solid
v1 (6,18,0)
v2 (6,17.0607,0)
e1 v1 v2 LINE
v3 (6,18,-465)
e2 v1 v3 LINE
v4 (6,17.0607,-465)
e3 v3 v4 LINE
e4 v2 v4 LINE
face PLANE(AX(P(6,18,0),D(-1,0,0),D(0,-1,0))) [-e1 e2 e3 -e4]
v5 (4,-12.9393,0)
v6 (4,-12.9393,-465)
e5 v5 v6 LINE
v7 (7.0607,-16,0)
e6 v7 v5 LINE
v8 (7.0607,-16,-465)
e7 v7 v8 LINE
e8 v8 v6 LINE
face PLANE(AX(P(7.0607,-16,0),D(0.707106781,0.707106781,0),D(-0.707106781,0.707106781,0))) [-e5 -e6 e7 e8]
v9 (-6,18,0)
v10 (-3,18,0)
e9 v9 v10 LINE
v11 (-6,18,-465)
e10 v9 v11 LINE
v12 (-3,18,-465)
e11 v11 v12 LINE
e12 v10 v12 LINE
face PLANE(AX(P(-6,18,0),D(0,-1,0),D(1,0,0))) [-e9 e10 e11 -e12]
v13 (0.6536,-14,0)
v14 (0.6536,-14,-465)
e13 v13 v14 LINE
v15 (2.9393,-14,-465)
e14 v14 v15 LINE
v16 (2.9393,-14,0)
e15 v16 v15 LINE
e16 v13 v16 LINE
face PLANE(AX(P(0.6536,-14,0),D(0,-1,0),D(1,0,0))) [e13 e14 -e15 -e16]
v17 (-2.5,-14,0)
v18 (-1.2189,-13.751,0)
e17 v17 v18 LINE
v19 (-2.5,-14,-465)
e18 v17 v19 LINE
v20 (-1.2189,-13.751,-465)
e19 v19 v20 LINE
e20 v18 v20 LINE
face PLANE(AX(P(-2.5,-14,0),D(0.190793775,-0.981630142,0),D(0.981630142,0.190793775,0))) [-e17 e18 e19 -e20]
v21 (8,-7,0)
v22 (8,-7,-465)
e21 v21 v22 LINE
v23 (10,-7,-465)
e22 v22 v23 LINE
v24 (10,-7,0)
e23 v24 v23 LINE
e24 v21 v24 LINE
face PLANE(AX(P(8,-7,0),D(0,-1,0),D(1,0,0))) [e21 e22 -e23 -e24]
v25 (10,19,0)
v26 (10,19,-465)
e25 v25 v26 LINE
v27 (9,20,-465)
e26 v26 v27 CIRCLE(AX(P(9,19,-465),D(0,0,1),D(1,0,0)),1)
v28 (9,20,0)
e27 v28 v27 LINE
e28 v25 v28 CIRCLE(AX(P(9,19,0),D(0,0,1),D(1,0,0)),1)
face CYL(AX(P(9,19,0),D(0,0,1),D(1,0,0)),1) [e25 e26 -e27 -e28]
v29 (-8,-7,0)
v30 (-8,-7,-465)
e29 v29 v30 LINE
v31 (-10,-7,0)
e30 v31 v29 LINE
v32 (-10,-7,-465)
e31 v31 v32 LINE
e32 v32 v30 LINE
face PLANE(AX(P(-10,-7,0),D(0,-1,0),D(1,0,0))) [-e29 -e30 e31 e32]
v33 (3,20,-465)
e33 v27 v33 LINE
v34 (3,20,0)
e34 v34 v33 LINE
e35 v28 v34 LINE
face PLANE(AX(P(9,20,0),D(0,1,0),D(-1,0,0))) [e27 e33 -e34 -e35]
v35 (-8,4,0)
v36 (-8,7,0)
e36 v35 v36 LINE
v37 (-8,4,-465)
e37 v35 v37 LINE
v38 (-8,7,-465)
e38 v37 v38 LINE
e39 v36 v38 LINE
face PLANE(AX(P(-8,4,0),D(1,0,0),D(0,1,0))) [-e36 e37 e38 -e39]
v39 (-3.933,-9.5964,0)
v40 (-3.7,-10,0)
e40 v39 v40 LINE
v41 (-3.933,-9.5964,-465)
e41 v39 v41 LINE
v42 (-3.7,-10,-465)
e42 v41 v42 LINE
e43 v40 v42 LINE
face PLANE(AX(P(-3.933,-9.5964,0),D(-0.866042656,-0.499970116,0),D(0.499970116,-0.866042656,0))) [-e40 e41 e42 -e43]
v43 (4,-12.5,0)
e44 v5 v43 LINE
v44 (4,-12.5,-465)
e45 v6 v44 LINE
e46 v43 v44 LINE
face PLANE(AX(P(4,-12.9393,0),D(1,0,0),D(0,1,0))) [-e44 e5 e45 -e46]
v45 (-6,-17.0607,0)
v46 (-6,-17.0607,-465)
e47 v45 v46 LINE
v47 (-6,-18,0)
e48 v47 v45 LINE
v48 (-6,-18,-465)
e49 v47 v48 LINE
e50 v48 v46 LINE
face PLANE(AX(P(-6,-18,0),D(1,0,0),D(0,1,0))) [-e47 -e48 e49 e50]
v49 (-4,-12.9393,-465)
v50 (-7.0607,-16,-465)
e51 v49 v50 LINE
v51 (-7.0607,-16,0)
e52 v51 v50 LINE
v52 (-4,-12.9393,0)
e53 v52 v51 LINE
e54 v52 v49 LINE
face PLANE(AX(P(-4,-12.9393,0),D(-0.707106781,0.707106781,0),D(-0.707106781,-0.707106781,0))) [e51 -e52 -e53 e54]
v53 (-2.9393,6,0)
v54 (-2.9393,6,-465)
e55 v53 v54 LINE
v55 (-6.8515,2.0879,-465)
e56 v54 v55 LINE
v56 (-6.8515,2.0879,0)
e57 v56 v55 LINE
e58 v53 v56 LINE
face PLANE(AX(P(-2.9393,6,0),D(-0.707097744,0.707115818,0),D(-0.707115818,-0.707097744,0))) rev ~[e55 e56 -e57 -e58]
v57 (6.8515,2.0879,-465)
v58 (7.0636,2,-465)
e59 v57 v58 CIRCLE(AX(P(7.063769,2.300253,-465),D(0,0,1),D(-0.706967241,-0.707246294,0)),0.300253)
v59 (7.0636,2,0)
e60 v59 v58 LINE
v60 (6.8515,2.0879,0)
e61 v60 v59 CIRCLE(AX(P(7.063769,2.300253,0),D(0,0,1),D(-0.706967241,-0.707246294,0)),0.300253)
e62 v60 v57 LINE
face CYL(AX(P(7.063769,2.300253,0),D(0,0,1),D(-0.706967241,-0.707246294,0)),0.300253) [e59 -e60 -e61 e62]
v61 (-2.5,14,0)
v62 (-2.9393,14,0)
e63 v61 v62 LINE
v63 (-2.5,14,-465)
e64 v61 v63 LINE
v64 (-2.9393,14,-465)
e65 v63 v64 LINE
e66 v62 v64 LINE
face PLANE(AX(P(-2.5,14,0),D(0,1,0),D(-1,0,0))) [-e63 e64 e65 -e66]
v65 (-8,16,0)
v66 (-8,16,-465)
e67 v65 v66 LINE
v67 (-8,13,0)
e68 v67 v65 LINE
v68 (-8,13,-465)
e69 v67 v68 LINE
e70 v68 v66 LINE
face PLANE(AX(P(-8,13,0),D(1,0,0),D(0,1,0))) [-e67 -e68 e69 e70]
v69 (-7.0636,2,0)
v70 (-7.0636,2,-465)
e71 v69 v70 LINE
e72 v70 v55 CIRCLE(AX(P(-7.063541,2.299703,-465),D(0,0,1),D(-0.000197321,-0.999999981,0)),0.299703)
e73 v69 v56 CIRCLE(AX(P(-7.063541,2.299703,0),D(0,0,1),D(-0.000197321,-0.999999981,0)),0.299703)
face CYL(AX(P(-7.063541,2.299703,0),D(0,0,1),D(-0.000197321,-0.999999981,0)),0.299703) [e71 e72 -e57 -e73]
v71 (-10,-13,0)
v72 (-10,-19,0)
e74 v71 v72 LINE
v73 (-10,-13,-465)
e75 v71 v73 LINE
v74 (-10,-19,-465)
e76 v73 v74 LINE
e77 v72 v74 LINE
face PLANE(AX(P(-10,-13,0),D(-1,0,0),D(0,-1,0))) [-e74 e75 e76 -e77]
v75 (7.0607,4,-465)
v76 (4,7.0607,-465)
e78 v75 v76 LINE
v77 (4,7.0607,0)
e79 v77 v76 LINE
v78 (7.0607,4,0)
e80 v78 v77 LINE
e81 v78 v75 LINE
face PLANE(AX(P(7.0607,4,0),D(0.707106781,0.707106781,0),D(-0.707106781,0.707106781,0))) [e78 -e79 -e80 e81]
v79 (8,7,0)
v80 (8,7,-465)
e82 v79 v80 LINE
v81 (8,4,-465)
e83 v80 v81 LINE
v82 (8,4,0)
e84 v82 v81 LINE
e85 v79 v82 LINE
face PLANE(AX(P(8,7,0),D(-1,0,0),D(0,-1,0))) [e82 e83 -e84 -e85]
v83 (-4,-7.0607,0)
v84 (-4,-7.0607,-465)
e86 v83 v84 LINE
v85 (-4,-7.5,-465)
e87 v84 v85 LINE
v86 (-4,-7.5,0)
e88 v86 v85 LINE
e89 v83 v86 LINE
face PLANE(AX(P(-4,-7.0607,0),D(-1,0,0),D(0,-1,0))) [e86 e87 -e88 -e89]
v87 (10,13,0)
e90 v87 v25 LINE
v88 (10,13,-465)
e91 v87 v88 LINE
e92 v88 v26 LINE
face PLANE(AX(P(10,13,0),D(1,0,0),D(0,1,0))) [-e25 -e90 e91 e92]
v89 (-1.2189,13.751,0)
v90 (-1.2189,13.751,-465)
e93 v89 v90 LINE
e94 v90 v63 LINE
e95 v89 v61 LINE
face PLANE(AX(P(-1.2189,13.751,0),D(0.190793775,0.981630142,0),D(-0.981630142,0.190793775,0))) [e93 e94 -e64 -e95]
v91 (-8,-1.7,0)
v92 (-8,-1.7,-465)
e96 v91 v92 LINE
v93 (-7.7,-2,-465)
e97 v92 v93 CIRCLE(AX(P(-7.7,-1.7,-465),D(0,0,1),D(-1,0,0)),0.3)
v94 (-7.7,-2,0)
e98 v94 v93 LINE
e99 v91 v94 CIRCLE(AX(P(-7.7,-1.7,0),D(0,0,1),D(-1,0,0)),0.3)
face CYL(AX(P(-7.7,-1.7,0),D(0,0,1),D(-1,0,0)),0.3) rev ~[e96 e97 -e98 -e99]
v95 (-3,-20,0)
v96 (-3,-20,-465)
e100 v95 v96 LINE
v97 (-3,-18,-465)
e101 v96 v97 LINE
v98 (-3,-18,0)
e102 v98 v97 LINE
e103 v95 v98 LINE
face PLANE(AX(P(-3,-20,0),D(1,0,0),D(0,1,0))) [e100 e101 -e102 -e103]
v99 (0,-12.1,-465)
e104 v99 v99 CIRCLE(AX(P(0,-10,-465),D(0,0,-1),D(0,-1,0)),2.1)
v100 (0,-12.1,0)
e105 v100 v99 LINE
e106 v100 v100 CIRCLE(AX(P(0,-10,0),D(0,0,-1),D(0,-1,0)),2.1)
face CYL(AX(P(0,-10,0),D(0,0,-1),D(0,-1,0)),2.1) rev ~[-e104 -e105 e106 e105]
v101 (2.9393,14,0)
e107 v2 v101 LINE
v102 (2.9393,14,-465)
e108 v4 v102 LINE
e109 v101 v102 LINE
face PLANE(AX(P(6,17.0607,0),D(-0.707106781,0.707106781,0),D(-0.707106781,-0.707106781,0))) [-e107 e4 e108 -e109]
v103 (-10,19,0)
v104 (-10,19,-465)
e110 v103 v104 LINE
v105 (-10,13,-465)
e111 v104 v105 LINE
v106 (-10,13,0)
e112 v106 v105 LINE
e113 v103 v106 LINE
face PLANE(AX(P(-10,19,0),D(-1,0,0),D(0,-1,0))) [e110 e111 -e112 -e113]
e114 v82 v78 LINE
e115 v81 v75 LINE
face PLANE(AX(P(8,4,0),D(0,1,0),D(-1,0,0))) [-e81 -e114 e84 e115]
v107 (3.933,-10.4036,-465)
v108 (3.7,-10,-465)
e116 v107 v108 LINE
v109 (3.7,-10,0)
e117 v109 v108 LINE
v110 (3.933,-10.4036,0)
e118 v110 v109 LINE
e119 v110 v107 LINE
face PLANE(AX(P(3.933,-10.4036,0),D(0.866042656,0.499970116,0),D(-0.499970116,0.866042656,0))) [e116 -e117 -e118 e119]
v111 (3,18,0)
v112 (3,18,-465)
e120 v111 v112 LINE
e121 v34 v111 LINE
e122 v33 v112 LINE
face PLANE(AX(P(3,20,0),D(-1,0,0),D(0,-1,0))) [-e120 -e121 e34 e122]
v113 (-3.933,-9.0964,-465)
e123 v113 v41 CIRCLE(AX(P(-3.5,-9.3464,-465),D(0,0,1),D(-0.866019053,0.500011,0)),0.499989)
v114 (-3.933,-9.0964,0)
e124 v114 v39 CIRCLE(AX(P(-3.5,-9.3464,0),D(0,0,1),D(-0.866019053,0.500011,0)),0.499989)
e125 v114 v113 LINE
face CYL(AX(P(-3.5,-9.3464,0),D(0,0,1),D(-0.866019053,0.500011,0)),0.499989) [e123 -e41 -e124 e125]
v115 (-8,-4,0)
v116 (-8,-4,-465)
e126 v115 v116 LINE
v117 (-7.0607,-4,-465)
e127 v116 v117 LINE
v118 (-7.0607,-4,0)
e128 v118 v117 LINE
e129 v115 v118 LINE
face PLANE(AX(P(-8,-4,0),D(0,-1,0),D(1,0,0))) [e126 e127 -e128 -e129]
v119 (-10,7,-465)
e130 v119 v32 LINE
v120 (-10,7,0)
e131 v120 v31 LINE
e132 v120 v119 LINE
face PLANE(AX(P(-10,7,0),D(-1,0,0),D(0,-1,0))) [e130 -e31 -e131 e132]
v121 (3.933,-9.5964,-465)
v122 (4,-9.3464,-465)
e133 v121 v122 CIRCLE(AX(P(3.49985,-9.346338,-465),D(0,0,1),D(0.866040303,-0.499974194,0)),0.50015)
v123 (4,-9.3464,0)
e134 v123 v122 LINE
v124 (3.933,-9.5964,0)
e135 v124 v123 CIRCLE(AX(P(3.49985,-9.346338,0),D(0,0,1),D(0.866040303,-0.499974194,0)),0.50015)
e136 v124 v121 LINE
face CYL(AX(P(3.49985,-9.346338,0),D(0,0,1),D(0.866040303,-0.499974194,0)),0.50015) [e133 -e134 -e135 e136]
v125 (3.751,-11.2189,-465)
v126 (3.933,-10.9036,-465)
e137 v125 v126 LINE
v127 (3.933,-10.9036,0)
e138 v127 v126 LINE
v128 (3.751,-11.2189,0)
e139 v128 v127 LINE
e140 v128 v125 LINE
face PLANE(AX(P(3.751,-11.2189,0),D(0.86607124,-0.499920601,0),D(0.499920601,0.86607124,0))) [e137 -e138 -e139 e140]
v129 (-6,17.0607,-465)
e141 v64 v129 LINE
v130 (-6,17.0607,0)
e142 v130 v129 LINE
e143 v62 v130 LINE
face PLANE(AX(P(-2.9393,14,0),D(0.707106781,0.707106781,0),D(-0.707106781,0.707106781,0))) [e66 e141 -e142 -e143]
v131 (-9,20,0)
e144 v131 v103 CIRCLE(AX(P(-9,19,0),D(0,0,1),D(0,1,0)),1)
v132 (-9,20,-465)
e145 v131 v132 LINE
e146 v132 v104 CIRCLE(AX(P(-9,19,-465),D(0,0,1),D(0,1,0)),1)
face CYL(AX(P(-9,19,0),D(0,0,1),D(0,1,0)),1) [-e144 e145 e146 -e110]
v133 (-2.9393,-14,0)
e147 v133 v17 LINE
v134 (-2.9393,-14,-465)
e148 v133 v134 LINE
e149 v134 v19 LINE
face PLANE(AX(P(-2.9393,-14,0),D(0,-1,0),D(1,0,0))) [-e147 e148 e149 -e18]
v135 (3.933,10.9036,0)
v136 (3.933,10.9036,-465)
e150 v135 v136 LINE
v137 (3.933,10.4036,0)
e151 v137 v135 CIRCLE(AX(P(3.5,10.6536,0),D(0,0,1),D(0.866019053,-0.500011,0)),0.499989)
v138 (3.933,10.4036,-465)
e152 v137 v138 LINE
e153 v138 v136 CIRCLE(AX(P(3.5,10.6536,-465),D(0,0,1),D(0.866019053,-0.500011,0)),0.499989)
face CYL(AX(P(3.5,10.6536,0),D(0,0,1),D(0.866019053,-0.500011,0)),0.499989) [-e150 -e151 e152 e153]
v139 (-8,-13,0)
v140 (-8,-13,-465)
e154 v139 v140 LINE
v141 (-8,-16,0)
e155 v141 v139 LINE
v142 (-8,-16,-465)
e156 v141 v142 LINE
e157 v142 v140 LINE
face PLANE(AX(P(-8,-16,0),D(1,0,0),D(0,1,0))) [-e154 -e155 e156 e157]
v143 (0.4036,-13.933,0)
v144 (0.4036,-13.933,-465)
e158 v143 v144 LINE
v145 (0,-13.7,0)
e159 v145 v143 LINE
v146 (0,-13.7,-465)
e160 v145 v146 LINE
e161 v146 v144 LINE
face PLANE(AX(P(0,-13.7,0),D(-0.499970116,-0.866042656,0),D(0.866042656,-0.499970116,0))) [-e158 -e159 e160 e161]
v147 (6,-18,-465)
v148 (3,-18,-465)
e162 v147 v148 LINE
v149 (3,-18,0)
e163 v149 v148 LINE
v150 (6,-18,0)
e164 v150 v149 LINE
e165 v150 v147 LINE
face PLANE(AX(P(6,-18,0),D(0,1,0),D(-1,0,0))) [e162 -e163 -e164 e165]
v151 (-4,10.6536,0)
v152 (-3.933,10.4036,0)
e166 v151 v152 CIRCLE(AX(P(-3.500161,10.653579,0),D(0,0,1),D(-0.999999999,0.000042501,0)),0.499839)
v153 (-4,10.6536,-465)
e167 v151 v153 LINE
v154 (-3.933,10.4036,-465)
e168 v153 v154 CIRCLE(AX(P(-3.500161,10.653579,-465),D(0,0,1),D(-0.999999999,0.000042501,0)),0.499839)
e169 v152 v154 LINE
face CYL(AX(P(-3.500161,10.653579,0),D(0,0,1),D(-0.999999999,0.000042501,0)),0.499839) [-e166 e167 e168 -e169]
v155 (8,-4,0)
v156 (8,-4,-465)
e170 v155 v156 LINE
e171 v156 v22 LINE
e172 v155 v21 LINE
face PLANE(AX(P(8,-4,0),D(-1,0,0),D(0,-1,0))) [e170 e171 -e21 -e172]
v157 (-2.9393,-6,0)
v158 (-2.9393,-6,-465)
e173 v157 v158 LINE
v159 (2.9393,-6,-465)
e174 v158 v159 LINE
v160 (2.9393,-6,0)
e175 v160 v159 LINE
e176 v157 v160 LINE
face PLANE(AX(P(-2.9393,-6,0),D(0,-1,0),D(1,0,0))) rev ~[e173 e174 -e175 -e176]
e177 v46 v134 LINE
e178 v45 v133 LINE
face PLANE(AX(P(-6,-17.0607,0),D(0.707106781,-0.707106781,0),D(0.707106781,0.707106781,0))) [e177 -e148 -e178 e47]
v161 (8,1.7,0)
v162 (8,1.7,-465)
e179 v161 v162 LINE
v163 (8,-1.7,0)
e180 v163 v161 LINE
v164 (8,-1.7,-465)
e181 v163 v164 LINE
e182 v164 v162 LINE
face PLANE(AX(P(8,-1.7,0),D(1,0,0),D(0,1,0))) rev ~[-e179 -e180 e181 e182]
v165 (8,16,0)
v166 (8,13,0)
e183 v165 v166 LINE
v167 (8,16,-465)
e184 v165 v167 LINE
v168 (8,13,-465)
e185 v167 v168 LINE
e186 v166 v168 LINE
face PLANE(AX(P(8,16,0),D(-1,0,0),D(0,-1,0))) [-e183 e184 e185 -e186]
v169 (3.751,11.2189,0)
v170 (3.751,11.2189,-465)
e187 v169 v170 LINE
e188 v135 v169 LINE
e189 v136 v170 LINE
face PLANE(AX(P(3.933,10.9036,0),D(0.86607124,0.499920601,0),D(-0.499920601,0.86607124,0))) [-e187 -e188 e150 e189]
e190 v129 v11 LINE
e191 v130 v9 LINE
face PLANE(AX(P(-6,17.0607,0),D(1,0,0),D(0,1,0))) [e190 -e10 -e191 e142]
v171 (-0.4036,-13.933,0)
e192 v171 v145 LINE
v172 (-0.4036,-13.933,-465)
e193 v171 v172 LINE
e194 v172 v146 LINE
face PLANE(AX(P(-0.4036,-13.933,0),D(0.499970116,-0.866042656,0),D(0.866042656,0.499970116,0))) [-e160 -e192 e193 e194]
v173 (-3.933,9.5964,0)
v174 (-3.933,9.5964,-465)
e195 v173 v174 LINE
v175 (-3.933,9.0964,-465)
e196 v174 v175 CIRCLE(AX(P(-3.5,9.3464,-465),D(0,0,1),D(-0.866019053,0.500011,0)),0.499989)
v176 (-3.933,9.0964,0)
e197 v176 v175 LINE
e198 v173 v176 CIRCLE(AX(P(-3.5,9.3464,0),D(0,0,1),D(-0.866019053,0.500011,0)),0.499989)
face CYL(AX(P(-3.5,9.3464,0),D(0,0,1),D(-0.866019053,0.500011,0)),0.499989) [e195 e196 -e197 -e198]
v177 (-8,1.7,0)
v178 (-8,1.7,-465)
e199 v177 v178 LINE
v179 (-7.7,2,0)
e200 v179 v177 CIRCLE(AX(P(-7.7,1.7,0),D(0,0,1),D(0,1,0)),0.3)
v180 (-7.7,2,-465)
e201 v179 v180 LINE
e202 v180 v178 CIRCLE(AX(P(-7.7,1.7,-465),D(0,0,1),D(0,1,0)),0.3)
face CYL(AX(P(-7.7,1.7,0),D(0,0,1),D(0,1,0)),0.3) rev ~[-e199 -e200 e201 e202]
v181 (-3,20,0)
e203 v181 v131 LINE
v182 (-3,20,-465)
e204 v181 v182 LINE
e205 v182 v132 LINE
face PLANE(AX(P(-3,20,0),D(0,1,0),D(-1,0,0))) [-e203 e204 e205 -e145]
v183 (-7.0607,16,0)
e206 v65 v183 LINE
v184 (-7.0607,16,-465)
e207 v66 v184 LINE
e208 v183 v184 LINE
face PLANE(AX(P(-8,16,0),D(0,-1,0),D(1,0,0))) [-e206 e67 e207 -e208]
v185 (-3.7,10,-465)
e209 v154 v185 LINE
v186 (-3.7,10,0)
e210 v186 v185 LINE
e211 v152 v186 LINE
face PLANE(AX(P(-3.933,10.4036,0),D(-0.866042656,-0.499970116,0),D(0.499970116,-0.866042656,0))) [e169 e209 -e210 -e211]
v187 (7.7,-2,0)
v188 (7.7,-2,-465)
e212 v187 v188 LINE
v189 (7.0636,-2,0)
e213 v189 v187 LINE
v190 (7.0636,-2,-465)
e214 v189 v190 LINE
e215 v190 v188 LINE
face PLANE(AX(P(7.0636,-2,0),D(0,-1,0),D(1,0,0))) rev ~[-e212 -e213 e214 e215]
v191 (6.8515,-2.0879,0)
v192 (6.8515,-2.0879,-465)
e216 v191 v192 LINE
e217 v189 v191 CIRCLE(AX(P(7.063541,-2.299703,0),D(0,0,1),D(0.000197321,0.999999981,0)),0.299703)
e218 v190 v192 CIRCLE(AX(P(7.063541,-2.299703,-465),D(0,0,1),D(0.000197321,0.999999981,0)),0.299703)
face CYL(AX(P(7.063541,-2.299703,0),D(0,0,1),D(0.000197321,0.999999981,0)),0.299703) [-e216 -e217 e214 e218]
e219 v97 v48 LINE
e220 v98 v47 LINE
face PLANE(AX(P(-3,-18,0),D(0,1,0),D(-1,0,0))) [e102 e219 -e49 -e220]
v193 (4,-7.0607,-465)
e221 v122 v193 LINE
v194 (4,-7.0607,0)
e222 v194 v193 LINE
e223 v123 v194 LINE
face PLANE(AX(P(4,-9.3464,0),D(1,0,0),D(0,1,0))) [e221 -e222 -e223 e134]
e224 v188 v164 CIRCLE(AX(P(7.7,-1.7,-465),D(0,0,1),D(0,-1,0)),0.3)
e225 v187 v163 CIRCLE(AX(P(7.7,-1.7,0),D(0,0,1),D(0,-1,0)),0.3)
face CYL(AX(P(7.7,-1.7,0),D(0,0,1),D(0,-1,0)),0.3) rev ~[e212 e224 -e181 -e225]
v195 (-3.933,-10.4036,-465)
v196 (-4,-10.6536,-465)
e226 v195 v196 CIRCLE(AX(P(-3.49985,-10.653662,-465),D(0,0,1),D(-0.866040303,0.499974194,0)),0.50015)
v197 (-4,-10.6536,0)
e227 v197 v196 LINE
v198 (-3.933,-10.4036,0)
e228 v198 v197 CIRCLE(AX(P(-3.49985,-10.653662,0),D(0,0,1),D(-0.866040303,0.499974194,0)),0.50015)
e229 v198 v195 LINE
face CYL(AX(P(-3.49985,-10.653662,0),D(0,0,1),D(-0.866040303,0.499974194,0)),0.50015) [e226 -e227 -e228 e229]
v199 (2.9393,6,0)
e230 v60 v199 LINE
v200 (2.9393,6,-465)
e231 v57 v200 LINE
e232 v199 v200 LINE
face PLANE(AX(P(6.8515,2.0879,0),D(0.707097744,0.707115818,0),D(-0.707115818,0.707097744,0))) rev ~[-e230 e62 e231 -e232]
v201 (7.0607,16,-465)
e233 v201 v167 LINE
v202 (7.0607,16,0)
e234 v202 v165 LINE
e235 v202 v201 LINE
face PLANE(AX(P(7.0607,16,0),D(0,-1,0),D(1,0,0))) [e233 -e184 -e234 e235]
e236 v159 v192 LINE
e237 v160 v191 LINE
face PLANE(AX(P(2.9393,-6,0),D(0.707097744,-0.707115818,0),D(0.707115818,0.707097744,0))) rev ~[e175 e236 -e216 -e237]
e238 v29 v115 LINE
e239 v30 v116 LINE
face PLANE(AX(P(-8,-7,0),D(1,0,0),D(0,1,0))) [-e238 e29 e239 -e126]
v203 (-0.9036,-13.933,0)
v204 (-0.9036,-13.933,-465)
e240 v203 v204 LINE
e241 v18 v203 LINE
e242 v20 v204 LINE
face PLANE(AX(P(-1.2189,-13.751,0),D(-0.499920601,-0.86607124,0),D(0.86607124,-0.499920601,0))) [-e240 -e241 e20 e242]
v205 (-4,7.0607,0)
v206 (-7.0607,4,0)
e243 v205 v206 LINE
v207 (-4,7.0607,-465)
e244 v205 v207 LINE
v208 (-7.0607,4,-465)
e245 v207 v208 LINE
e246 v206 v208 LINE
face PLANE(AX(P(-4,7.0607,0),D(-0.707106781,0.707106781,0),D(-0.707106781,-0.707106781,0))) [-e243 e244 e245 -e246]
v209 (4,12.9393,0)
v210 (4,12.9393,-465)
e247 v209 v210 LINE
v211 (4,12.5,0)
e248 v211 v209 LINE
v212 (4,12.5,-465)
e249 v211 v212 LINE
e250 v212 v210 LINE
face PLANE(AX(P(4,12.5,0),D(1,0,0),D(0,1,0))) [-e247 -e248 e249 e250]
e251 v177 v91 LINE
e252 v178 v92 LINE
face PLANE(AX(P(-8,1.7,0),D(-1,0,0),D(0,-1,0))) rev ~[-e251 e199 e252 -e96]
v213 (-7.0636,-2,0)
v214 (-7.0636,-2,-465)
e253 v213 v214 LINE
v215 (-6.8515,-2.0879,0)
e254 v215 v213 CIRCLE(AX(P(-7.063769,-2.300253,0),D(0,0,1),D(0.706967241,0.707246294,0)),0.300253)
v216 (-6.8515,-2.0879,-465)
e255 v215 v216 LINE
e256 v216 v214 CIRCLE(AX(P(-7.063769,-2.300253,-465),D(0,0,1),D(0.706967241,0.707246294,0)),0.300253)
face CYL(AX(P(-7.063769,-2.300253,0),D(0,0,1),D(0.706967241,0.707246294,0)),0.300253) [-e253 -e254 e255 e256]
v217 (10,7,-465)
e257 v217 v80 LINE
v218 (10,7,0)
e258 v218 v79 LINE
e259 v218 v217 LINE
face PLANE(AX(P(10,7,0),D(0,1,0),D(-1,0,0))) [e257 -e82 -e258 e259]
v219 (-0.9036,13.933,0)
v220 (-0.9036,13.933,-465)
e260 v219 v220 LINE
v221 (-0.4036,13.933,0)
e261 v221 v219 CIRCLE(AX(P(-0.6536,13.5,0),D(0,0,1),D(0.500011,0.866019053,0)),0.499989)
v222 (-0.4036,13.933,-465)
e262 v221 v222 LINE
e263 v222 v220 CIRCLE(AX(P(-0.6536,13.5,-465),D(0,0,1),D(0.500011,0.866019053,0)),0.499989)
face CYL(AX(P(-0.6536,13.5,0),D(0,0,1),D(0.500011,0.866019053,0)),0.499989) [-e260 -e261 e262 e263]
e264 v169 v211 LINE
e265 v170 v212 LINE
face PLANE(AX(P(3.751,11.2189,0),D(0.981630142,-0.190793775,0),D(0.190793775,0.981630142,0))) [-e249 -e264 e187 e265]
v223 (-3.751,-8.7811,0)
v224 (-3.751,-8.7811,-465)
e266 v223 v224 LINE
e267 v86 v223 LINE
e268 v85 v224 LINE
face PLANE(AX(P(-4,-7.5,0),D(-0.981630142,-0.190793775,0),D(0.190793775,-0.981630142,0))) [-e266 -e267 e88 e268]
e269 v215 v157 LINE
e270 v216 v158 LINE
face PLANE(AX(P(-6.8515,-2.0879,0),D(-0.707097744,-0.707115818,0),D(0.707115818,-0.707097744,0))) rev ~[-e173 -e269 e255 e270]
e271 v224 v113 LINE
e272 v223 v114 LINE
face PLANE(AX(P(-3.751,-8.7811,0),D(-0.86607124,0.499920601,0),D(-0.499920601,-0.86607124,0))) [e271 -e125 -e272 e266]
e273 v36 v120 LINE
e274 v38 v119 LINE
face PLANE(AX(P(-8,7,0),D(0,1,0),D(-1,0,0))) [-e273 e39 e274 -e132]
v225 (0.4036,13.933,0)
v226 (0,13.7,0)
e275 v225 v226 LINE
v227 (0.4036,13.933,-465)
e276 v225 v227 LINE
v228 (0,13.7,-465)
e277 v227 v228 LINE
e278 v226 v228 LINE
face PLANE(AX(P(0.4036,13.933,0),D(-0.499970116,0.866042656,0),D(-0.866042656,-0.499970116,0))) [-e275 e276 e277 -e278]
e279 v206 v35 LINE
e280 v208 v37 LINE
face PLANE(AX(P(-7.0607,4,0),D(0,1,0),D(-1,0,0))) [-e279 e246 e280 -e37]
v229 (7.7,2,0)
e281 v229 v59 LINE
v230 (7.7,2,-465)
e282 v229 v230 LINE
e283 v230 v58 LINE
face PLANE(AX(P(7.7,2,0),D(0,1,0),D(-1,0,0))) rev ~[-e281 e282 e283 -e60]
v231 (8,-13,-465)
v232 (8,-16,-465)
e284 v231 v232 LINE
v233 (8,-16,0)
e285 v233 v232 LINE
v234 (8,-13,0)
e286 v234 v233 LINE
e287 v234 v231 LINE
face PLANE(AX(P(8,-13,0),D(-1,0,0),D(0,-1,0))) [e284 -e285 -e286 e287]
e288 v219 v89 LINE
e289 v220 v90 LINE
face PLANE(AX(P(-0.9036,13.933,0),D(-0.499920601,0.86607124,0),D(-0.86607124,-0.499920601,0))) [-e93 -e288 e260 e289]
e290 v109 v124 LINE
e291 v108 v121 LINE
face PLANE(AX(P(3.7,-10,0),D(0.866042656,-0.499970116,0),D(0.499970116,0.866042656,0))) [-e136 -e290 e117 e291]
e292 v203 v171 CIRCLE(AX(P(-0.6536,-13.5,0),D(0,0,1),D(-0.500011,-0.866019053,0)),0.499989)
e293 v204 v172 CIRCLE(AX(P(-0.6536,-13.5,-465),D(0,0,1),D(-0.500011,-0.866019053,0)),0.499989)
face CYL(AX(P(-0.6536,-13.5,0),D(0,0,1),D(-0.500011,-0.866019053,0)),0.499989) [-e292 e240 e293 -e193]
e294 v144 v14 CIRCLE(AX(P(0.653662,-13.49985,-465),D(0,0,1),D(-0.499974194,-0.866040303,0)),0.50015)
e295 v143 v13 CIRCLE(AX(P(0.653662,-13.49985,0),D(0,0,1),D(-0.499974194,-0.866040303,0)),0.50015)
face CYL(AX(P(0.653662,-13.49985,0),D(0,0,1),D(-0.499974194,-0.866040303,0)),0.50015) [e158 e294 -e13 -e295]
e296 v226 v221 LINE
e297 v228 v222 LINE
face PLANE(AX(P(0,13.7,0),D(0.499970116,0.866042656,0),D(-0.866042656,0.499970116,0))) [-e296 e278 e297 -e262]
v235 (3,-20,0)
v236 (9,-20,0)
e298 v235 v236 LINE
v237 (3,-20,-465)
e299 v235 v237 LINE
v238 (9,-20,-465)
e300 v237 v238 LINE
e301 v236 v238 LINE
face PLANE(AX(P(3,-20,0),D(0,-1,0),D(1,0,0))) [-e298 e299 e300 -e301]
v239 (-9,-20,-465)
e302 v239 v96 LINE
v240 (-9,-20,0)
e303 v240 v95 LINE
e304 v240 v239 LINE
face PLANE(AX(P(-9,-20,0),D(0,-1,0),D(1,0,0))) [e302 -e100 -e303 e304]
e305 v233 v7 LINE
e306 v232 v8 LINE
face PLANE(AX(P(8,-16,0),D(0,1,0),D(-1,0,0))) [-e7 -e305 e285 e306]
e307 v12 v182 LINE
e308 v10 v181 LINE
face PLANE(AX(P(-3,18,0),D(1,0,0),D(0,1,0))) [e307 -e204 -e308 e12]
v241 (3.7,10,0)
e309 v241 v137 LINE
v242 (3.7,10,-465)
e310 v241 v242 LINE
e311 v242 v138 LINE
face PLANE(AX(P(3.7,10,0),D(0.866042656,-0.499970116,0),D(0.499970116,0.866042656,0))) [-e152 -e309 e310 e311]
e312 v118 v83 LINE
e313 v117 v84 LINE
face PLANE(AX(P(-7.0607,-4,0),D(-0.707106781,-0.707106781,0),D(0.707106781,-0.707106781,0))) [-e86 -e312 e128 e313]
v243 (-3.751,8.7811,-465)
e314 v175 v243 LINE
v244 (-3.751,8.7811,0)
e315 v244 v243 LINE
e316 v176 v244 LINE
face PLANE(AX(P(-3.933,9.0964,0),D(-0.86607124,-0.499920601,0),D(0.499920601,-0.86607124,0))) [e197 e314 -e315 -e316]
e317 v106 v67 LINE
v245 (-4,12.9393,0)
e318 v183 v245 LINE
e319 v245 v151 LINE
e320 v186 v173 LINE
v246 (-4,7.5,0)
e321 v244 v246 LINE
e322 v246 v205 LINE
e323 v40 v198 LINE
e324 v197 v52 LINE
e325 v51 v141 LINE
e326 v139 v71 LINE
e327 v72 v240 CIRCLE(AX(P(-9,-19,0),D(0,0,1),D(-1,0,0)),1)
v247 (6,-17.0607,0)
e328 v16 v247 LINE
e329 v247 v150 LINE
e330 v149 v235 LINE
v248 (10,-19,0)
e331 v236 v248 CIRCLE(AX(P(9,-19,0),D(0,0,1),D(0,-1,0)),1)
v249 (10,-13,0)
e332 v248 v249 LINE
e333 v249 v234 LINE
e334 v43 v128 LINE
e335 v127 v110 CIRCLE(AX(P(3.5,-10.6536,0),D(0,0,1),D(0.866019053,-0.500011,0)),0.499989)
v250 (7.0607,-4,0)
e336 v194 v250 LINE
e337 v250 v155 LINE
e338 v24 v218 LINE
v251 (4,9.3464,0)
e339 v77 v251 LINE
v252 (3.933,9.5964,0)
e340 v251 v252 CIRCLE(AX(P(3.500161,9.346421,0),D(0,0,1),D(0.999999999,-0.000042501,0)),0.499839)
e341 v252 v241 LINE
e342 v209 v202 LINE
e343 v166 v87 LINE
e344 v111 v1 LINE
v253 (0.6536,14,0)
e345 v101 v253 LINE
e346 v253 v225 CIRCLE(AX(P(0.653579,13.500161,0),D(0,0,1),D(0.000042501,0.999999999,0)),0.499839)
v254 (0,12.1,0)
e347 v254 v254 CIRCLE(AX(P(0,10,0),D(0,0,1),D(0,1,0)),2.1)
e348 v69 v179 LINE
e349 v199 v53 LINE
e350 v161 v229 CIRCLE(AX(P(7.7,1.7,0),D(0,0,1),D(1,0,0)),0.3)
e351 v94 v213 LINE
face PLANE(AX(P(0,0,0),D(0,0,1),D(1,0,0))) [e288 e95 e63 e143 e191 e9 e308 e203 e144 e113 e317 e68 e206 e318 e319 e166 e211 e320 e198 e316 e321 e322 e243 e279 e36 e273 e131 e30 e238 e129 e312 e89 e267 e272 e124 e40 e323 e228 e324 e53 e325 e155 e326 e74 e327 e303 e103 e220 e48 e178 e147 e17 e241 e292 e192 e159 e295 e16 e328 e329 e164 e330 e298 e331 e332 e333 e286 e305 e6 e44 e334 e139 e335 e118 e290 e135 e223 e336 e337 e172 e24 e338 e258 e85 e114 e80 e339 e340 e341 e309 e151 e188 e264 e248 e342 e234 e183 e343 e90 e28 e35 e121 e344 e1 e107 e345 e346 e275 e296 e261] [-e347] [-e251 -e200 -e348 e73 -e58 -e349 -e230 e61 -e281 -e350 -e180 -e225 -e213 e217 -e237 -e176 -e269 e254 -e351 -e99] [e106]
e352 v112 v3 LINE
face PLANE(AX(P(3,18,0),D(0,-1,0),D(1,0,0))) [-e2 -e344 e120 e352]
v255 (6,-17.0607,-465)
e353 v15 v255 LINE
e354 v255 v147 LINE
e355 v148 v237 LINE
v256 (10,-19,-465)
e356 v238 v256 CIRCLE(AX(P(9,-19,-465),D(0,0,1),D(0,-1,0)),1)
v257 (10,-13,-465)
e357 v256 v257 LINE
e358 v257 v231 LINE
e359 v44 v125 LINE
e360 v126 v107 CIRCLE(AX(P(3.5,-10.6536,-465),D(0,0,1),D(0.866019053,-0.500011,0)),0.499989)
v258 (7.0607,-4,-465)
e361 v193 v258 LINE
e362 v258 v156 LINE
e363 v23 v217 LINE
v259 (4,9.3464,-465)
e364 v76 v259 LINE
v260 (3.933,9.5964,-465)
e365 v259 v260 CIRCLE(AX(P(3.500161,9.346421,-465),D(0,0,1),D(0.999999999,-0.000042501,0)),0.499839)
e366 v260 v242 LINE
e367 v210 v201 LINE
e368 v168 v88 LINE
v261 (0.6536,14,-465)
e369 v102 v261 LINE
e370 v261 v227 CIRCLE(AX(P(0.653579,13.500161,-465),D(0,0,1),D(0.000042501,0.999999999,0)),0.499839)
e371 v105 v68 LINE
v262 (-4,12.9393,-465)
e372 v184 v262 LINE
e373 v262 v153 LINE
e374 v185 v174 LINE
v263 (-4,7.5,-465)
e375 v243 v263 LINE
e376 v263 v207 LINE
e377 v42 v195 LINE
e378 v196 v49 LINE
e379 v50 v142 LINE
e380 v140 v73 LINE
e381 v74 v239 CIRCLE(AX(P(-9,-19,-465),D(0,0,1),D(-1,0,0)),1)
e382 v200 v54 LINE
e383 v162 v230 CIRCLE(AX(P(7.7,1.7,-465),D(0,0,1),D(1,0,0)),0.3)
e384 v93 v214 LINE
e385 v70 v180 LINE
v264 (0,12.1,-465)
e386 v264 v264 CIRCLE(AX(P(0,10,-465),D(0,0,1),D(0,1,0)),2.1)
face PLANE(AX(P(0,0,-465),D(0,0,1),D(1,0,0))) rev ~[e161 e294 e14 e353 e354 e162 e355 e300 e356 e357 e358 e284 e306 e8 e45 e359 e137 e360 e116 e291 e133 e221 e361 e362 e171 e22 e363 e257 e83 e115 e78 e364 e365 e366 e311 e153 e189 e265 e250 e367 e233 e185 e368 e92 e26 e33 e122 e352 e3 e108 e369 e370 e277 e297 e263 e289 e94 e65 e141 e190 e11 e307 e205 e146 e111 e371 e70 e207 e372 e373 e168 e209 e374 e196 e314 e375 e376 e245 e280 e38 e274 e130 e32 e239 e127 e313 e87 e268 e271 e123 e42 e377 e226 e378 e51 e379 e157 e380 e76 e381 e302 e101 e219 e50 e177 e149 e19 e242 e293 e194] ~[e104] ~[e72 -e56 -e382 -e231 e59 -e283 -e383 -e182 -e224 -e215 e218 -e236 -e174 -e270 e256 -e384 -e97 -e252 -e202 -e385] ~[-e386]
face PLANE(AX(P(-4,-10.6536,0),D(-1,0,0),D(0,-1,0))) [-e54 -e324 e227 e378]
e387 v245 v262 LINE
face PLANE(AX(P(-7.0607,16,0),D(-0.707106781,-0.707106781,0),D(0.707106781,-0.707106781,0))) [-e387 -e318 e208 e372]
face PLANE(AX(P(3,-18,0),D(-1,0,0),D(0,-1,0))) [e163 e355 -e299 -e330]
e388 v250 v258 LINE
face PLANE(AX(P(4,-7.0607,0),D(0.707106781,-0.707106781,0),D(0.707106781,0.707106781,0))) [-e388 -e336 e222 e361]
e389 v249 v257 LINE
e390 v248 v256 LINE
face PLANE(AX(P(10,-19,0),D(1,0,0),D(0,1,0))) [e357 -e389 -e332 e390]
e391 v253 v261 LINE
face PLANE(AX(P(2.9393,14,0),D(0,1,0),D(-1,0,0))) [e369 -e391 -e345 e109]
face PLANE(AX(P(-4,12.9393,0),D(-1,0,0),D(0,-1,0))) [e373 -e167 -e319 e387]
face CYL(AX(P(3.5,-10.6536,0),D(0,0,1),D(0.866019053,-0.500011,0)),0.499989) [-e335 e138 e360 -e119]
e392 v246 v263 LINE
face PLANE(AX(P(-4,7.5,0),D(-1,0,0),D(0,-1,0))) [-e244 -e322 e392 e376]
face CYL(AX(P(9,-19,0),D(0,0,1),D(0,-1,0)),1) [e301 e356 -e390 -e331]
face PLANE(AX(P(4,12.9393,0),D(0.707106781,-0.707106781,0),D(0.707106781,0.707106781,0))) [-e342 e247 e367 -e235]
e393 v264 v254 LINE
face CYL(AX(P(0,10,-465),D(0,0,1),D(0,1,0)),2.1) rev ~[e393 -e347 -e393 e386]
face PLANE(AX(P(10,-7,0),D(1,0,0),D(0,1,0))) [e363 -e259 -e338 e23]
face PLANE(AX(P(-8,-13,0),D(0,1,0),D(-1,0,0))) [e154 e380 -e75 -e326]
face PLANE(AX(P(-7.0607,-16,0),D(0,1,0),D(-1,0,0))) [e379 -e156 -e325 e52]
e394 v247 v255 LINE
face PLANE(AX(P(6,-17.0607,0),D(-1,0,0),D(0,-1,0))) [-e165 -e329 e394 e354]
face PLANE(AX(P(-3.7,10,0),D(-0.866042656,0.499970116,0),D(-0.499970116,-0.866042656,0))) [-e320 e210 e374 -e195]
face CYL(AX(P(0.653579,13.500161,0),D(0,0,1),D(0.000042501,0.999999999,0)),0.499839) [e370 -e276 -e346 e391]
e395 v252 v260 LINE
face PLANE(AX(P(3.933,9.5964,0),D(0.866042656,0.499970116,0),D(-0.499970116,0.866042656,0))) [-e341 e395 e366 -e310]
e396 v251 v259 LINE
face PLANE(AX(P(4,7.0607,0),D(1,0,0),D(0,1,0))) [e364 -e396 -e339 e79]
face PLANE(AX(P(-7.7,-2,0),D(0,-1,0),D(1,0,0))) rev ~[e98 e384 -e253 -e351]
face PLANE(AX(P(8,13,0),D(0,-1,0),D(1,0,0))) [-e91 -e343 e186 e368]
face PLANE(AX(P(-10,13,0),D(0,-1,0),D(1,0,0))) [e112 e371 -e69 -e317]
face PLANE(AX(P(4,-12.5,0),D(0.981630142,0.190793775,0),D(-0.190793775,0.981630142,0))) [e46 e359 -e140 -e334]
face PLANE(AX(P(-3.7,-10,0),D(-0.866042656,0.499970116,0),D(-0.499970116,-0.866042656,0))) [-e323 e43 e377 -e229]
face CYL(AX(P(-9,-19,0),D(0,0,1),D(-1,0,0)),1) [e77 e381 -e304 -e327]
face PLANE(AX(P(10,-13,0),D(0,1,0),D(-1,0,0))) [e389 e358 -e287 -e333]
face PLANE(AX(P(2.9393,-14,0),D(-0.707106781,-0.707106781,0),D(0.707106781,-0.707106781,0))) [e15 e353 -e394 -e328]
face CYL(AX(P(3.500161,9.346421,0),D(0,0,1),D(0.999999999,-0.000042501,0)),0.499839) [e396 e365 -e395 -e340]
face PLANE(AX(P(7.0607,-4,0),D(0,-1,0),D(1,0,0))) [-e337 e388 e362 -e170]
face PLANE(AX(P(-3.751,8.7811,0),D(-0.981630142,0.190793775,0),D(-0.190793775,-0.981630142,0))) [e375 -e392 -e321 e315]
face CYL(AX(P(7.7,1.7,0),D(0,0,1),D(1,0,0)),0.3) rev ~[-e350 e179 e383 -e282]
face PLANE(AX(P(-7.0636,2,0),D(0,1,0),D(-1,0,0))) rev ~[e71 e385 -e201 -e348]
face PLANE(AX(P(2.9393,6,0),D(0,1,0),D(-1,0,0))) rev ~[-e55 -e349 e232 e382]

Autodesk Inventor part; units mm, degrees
ref_plane "YZ Plane" through (0, 0, 0) normal (1, 0, 0) x (0, 1, 0)
ref_plane "XZ Plane" through (0, 0, 0) normal (0, 1, 0) x (-1, 0, 0)
ref_plane "XY Plane" through (0, 0, 0) normal (0, 0, 1) x (1, 0, 0)
sketch "_____4" plane through (0, 0, 0) normal (0, 0, 1) x (1, 0, 0)
  line L0 (-10, -7) -> (-8, -7)
  line L1 (-8, -7) -> (-8, -4)
  line L2 (-8, -4) -> (-7.0607, -4)
  line L3 (-7.0607, -4) -> (-4, -7.0607)
  line L4 (-4, -7.0607) -> (-4, -7.5)
  line L5 (-4, -7.5) -> (-3.751, -8.7811)
  line L6 (-3.751, -8.7811) -> (-3.933, -9.0964)
  arc A0 (-3.933, -9.0964) -> (-3.933, -9.5964) centre (-3.5, -9.3464) ccw
  line L7 (-3.933, -9.5964) -> (-3.7, -10)
  line L8 (-3.7, -10) -> (-3.933, -10.4036)
  arc A1 (-3.933, -10.4036) -> (-4, -10.6536) centre (-3.5, -10.6536) ccw
  line L9 (-4, -10.6536) -> (-4, -12.9393)
  line L10 (-4, -12.9393) -> (-7.0607, -16)
  line L11 (-7.0607, -16) -> (-8, -16)
  line L12 (-8, -16) -> (-8, -13)
  line L13 (-8, -13) -> (-10, -13)
  line L14 (-10, -13) -> (-10, -19)
  arc A2 (-10, -19) -> (-9, -20) centre (-9, -19) ccw
  line L15 (-9, -20) -> (-3, -20)
  line L16 (-3, -20) -> (-3, -18)
  line L17 (-3, -18) -> (-6, -18)
  line L18 (-6, -18) -> (-6, -17.0607)
  line L19 (-6, -17.0607) -> (-2.9393, -14)
  line L20 (-2.9393, -14) -> (-2.5, -14)
  line L21 (-2.5, -14) -> (-1.2189, -13.751)
  line L22 (-1.2189, -13.751) -> (-0.9036, -13.933)
  arc A3 (-0.9036, -13.933) -> (-0.4036, -13.933) centre (-0.6536, -13.5) ccw
  line L23 (-0.4036, -13.933) -> (0, -13.7)
  line L24 (0, -13.7) -> (0.4036, -13.933)
  arc A4 (0.4036, -13.933) -> (0.6536, -14) centre (0.6536, -13.5) ccw
  line L25 (0.6536, -14) -> (2.9393, -14)
  line L26 (2.9393, -14) -> (6, -17.0607)
  line L27 (6, -17.0607) -> (6, -18)
  line L28 (6, -18) -> (3, -18)
  line L29 (3, -18) -> (3, -20)
  line L30 (3, -20) -> (9, -20)
  arc A5 (9, -20) -> (10, -19) centre (9, -19) ccw
  line L31 (10, -19) -> (10, -13)
  line L32 (10, -13) -> (8, -13)
  line L33 (8, -13) -> (8, -16)
  line L34 (8, -16) -> (7.0607, -16)
  line L35 (7.0607, -16) -> (4, -12.9393)
  line L36 (4, -12.9393) -> (4, -12.5)
  line L37 (4, -12.5) -> (3.751, -11.2189)
  line L38 (3.751, -11.2189) -> (3.933, -10.9036)
  arc A6 (3.933, -10.9036) -> (3.933, -10.4036) centre (3.5, -10.6536) ccw
  line L39 (3.933, -10.4036) -> (3.7, -10)
  line L40 (3.7, -10) -> (3.933, -9.5964)
  arc A7 (3.933, -9.5964) -> (4, -9.3464) centre (3.5, -9.3464) ccw
  line L41 (4, -9.3464) -> (4, -7.0607)
  line L42 (4, -7.0607) -> (7.0607, -4)
  line L43 (7.0607, -4) -> (8, -4)
  line L44 (8, -4) -> (8, -7)
  line L45 (8, -7) -> (10, -7)
  line L46 (10, -7) -> (10, 7)
  line L47 (10, 7) -> (8, 7)
  line L48 (8, 7) -> (8, 4)
  line L49 (8, 4) -> (7.0607, 4)
  line L50 (7.0607, 4) -> (4, 7.0607)
  line L51 (4, 7.0607) -> (4, 9.3464)
  arc A8 (4, 9.3464) -> (3.933, 9.5964) centre (3.5, 9.3464) ccw
  line L52 (3.933, 9.5964) -> (3.7, 10)
  line L53 (3.7, 10) -> (3.933, 10.4036)
  arc A9 (3.933, 10.4036) -> (3.933, 10.9036) centre (3.5, 10.6536) ccw
  line L54 (3.933, 10.9036) -> (3.751, 11.2189)
  line L55 (3.751, 11.2189) -> (4, 12.5)
  line L56 (4, 12.5) -> (4, 12.9393)
  line L57 (4, 12.9393) -> (7.0607, 16)
  line L58 (7.0607, 16) -> (8, 16)
  line L59 (8, 16) -> (8, 13)
  line L60 (8, 13) -> (10, 13)
  line L61 (10, 13) -> (10, 19)
  arc A10 (10, 19) -> (9, 20) centre (9, 19) ccw
  line L62 (9, 20) -> (3, 20)
  line L63 (3, 20) -> (3, 18)
  line L64 (3, 18) -> (6, 18)
  line L65 (6, 18) -> (6, 17.0607)
  line L66 (6, 17.0607) -> (2.9393, 14)
  line L67 (2.9393, 14) -> (0.6536, 14)
  arc A11 (0.6536, 14) -> (0.4036, 13.933) centre (0.6536, 13.5) ccw
  line L68 (0.4036, 13.933) -> (0, 13.7)
  line L69 (0, 13.7) -> (-0.4036, 13.933)
  arc A12 (-0.4036, 13.933) -> (-0.9036, 13.933) centre (-0.6536, 13.5) ccw
  line L70 (-0.9036, 13.933) -> (-1.2189, 13.751)
  line L71 (-1.2189, 13.751) -> (-2.5, 14)
  line L72 (-2.5, 14) -> (-2.9393, 14)
  line L73 (-2.9393, 14) -> (-6, 17.0607)
  line L74 (-6, 17.0607) -> (-6, 18)
  line L75 (-6, 18) -> (-3, 18)
  line L76 (-3, 18) -> (-3, 20)
  line L77 (-3, 20) -> (-9, 20)
  arc A13 (-9, 20) -> (-10, 19) centre (-9, 19) ccw
  line L78 (-10, 19) -> (-10, 13)
  line L79 (-10, 13) -> (-8, 13)
  line L80 (-8, 13) -> (-8, 16)
  line L81 (-8, 16) -> (-7.0607, 16)
  line L82 (-7.0607, 16) -> (-4, 12.9393)
  line L83 (-4, 12.9393) -> (-4, 10.6536)
  arc A14 (-4, 10.6536) -> (-3.933, 10.4036) centre (-3.5, 10.6536) ccw
  line L84 (-3.933, 10.4036) -> (-3.7, 10)
  line L85 (-3.7, 10) -> (-3.933, 9.5964)
  arc A15 (-3.933, 9.5964) -> (-3.933, 9.0964) centre (-3.5, 9.3464) ccw
  line L86 (-3.933, 9.0964) -> (-3.751, 8.7811)
  line L87 (-3.751, 8.7811) -> (-4, 7.5)
  line L88 (-4, 7.5) -> (-4, 7.0607)
  line L89 (-4, 7.0607) -> (-7.0607, 4)
  line L90 (-7.0607, 4) -> (-8, 4)
  line L91 (-8, 4) -> (-8, 7)
  line L92 (-8, 7) -> (-10, 7)
  line L93 (-10, 7) -> (-10, -7)
  line L94 (-8, 1.7) -> (-8, -1.7)
  arc A16 (-8, -1.7) -> (-7.7, -2) centre (-7.7, -1.7) ccw
  line L95 (-7.7, -2) -> (-7.0636, -2)
  arc A17 (-6.8515, -2.0879) -> (-7.0636, -2) centre (-7.0636, -2.3) ccw
  line L96 (-6.8515, -2.0879) -> (-2.9393, -6)
  line L97 (-2.9393, -6) -> (2.9393, -6)
  line L98 (2.9393, -6) -> (6.8515, -2.0879)
  arc A18 (7.0636, -2) -> (6.8515, -2.0879) centre (7.0636, -2.3) ccw
  line L99 (7.0636, -2) -> (7.7, -2)
  arc A19 (7.7, -2) -> (8, -1.7) centre (7.7, -1.7) ccw
  line L100 (8, -1.7) -> (8, 1.7)
  arc A20 (8, 1.7) -> (7.7, 2) centre (7.7, 1.7) ccw
  line L101 (7.7, 2) -> (7.0636, 2)
  arc A21 (6.8515, 2.0879) -> (7.0636, 2) centre (7.0636, 2.3) ccw
  line L102 (6.8515, 2.0879) -> (2.9393, 6)
  line L103 (2.9393, 6) -> (-2.9393, 6)
  line L104 (-2.9393, 6) -> (-6.8515, 2.0879)
  arc A22 (-7.0636, 2) -> (-6.8515, 2.0879) centre (-7.0636, 2.3) ccw
  line L105 (-7.0636, 2) -> (-7.7, 2)
  arc A23 (-7.7, 2) -> (-8, 1.7) centre (-7.7, 1.7) ccw
extrude "Extrusion1" add sketch "_____4" against normal blind 465
sketch "Sketch2" plane through (0, 0, -465) normal (0, 0, -1) x (-1, 0, 0)
  point P0 (0, 10)
hole "Hole1" at (0, 10, -465) direction (0, 0, 1) diameter 4.2 depth 4000
sketch "Sketch3" plane through (0, 0, 0) normal (0, 0, 1) x (1, 0, 0)
  point P0 (0, -10)
hole "Hole2" at (0, -10, 0) direction (0, 0, -1) diameter 4.2 depth 4000
properties part number "KNFS5-2040_0" material "アルミニウム 6061"
